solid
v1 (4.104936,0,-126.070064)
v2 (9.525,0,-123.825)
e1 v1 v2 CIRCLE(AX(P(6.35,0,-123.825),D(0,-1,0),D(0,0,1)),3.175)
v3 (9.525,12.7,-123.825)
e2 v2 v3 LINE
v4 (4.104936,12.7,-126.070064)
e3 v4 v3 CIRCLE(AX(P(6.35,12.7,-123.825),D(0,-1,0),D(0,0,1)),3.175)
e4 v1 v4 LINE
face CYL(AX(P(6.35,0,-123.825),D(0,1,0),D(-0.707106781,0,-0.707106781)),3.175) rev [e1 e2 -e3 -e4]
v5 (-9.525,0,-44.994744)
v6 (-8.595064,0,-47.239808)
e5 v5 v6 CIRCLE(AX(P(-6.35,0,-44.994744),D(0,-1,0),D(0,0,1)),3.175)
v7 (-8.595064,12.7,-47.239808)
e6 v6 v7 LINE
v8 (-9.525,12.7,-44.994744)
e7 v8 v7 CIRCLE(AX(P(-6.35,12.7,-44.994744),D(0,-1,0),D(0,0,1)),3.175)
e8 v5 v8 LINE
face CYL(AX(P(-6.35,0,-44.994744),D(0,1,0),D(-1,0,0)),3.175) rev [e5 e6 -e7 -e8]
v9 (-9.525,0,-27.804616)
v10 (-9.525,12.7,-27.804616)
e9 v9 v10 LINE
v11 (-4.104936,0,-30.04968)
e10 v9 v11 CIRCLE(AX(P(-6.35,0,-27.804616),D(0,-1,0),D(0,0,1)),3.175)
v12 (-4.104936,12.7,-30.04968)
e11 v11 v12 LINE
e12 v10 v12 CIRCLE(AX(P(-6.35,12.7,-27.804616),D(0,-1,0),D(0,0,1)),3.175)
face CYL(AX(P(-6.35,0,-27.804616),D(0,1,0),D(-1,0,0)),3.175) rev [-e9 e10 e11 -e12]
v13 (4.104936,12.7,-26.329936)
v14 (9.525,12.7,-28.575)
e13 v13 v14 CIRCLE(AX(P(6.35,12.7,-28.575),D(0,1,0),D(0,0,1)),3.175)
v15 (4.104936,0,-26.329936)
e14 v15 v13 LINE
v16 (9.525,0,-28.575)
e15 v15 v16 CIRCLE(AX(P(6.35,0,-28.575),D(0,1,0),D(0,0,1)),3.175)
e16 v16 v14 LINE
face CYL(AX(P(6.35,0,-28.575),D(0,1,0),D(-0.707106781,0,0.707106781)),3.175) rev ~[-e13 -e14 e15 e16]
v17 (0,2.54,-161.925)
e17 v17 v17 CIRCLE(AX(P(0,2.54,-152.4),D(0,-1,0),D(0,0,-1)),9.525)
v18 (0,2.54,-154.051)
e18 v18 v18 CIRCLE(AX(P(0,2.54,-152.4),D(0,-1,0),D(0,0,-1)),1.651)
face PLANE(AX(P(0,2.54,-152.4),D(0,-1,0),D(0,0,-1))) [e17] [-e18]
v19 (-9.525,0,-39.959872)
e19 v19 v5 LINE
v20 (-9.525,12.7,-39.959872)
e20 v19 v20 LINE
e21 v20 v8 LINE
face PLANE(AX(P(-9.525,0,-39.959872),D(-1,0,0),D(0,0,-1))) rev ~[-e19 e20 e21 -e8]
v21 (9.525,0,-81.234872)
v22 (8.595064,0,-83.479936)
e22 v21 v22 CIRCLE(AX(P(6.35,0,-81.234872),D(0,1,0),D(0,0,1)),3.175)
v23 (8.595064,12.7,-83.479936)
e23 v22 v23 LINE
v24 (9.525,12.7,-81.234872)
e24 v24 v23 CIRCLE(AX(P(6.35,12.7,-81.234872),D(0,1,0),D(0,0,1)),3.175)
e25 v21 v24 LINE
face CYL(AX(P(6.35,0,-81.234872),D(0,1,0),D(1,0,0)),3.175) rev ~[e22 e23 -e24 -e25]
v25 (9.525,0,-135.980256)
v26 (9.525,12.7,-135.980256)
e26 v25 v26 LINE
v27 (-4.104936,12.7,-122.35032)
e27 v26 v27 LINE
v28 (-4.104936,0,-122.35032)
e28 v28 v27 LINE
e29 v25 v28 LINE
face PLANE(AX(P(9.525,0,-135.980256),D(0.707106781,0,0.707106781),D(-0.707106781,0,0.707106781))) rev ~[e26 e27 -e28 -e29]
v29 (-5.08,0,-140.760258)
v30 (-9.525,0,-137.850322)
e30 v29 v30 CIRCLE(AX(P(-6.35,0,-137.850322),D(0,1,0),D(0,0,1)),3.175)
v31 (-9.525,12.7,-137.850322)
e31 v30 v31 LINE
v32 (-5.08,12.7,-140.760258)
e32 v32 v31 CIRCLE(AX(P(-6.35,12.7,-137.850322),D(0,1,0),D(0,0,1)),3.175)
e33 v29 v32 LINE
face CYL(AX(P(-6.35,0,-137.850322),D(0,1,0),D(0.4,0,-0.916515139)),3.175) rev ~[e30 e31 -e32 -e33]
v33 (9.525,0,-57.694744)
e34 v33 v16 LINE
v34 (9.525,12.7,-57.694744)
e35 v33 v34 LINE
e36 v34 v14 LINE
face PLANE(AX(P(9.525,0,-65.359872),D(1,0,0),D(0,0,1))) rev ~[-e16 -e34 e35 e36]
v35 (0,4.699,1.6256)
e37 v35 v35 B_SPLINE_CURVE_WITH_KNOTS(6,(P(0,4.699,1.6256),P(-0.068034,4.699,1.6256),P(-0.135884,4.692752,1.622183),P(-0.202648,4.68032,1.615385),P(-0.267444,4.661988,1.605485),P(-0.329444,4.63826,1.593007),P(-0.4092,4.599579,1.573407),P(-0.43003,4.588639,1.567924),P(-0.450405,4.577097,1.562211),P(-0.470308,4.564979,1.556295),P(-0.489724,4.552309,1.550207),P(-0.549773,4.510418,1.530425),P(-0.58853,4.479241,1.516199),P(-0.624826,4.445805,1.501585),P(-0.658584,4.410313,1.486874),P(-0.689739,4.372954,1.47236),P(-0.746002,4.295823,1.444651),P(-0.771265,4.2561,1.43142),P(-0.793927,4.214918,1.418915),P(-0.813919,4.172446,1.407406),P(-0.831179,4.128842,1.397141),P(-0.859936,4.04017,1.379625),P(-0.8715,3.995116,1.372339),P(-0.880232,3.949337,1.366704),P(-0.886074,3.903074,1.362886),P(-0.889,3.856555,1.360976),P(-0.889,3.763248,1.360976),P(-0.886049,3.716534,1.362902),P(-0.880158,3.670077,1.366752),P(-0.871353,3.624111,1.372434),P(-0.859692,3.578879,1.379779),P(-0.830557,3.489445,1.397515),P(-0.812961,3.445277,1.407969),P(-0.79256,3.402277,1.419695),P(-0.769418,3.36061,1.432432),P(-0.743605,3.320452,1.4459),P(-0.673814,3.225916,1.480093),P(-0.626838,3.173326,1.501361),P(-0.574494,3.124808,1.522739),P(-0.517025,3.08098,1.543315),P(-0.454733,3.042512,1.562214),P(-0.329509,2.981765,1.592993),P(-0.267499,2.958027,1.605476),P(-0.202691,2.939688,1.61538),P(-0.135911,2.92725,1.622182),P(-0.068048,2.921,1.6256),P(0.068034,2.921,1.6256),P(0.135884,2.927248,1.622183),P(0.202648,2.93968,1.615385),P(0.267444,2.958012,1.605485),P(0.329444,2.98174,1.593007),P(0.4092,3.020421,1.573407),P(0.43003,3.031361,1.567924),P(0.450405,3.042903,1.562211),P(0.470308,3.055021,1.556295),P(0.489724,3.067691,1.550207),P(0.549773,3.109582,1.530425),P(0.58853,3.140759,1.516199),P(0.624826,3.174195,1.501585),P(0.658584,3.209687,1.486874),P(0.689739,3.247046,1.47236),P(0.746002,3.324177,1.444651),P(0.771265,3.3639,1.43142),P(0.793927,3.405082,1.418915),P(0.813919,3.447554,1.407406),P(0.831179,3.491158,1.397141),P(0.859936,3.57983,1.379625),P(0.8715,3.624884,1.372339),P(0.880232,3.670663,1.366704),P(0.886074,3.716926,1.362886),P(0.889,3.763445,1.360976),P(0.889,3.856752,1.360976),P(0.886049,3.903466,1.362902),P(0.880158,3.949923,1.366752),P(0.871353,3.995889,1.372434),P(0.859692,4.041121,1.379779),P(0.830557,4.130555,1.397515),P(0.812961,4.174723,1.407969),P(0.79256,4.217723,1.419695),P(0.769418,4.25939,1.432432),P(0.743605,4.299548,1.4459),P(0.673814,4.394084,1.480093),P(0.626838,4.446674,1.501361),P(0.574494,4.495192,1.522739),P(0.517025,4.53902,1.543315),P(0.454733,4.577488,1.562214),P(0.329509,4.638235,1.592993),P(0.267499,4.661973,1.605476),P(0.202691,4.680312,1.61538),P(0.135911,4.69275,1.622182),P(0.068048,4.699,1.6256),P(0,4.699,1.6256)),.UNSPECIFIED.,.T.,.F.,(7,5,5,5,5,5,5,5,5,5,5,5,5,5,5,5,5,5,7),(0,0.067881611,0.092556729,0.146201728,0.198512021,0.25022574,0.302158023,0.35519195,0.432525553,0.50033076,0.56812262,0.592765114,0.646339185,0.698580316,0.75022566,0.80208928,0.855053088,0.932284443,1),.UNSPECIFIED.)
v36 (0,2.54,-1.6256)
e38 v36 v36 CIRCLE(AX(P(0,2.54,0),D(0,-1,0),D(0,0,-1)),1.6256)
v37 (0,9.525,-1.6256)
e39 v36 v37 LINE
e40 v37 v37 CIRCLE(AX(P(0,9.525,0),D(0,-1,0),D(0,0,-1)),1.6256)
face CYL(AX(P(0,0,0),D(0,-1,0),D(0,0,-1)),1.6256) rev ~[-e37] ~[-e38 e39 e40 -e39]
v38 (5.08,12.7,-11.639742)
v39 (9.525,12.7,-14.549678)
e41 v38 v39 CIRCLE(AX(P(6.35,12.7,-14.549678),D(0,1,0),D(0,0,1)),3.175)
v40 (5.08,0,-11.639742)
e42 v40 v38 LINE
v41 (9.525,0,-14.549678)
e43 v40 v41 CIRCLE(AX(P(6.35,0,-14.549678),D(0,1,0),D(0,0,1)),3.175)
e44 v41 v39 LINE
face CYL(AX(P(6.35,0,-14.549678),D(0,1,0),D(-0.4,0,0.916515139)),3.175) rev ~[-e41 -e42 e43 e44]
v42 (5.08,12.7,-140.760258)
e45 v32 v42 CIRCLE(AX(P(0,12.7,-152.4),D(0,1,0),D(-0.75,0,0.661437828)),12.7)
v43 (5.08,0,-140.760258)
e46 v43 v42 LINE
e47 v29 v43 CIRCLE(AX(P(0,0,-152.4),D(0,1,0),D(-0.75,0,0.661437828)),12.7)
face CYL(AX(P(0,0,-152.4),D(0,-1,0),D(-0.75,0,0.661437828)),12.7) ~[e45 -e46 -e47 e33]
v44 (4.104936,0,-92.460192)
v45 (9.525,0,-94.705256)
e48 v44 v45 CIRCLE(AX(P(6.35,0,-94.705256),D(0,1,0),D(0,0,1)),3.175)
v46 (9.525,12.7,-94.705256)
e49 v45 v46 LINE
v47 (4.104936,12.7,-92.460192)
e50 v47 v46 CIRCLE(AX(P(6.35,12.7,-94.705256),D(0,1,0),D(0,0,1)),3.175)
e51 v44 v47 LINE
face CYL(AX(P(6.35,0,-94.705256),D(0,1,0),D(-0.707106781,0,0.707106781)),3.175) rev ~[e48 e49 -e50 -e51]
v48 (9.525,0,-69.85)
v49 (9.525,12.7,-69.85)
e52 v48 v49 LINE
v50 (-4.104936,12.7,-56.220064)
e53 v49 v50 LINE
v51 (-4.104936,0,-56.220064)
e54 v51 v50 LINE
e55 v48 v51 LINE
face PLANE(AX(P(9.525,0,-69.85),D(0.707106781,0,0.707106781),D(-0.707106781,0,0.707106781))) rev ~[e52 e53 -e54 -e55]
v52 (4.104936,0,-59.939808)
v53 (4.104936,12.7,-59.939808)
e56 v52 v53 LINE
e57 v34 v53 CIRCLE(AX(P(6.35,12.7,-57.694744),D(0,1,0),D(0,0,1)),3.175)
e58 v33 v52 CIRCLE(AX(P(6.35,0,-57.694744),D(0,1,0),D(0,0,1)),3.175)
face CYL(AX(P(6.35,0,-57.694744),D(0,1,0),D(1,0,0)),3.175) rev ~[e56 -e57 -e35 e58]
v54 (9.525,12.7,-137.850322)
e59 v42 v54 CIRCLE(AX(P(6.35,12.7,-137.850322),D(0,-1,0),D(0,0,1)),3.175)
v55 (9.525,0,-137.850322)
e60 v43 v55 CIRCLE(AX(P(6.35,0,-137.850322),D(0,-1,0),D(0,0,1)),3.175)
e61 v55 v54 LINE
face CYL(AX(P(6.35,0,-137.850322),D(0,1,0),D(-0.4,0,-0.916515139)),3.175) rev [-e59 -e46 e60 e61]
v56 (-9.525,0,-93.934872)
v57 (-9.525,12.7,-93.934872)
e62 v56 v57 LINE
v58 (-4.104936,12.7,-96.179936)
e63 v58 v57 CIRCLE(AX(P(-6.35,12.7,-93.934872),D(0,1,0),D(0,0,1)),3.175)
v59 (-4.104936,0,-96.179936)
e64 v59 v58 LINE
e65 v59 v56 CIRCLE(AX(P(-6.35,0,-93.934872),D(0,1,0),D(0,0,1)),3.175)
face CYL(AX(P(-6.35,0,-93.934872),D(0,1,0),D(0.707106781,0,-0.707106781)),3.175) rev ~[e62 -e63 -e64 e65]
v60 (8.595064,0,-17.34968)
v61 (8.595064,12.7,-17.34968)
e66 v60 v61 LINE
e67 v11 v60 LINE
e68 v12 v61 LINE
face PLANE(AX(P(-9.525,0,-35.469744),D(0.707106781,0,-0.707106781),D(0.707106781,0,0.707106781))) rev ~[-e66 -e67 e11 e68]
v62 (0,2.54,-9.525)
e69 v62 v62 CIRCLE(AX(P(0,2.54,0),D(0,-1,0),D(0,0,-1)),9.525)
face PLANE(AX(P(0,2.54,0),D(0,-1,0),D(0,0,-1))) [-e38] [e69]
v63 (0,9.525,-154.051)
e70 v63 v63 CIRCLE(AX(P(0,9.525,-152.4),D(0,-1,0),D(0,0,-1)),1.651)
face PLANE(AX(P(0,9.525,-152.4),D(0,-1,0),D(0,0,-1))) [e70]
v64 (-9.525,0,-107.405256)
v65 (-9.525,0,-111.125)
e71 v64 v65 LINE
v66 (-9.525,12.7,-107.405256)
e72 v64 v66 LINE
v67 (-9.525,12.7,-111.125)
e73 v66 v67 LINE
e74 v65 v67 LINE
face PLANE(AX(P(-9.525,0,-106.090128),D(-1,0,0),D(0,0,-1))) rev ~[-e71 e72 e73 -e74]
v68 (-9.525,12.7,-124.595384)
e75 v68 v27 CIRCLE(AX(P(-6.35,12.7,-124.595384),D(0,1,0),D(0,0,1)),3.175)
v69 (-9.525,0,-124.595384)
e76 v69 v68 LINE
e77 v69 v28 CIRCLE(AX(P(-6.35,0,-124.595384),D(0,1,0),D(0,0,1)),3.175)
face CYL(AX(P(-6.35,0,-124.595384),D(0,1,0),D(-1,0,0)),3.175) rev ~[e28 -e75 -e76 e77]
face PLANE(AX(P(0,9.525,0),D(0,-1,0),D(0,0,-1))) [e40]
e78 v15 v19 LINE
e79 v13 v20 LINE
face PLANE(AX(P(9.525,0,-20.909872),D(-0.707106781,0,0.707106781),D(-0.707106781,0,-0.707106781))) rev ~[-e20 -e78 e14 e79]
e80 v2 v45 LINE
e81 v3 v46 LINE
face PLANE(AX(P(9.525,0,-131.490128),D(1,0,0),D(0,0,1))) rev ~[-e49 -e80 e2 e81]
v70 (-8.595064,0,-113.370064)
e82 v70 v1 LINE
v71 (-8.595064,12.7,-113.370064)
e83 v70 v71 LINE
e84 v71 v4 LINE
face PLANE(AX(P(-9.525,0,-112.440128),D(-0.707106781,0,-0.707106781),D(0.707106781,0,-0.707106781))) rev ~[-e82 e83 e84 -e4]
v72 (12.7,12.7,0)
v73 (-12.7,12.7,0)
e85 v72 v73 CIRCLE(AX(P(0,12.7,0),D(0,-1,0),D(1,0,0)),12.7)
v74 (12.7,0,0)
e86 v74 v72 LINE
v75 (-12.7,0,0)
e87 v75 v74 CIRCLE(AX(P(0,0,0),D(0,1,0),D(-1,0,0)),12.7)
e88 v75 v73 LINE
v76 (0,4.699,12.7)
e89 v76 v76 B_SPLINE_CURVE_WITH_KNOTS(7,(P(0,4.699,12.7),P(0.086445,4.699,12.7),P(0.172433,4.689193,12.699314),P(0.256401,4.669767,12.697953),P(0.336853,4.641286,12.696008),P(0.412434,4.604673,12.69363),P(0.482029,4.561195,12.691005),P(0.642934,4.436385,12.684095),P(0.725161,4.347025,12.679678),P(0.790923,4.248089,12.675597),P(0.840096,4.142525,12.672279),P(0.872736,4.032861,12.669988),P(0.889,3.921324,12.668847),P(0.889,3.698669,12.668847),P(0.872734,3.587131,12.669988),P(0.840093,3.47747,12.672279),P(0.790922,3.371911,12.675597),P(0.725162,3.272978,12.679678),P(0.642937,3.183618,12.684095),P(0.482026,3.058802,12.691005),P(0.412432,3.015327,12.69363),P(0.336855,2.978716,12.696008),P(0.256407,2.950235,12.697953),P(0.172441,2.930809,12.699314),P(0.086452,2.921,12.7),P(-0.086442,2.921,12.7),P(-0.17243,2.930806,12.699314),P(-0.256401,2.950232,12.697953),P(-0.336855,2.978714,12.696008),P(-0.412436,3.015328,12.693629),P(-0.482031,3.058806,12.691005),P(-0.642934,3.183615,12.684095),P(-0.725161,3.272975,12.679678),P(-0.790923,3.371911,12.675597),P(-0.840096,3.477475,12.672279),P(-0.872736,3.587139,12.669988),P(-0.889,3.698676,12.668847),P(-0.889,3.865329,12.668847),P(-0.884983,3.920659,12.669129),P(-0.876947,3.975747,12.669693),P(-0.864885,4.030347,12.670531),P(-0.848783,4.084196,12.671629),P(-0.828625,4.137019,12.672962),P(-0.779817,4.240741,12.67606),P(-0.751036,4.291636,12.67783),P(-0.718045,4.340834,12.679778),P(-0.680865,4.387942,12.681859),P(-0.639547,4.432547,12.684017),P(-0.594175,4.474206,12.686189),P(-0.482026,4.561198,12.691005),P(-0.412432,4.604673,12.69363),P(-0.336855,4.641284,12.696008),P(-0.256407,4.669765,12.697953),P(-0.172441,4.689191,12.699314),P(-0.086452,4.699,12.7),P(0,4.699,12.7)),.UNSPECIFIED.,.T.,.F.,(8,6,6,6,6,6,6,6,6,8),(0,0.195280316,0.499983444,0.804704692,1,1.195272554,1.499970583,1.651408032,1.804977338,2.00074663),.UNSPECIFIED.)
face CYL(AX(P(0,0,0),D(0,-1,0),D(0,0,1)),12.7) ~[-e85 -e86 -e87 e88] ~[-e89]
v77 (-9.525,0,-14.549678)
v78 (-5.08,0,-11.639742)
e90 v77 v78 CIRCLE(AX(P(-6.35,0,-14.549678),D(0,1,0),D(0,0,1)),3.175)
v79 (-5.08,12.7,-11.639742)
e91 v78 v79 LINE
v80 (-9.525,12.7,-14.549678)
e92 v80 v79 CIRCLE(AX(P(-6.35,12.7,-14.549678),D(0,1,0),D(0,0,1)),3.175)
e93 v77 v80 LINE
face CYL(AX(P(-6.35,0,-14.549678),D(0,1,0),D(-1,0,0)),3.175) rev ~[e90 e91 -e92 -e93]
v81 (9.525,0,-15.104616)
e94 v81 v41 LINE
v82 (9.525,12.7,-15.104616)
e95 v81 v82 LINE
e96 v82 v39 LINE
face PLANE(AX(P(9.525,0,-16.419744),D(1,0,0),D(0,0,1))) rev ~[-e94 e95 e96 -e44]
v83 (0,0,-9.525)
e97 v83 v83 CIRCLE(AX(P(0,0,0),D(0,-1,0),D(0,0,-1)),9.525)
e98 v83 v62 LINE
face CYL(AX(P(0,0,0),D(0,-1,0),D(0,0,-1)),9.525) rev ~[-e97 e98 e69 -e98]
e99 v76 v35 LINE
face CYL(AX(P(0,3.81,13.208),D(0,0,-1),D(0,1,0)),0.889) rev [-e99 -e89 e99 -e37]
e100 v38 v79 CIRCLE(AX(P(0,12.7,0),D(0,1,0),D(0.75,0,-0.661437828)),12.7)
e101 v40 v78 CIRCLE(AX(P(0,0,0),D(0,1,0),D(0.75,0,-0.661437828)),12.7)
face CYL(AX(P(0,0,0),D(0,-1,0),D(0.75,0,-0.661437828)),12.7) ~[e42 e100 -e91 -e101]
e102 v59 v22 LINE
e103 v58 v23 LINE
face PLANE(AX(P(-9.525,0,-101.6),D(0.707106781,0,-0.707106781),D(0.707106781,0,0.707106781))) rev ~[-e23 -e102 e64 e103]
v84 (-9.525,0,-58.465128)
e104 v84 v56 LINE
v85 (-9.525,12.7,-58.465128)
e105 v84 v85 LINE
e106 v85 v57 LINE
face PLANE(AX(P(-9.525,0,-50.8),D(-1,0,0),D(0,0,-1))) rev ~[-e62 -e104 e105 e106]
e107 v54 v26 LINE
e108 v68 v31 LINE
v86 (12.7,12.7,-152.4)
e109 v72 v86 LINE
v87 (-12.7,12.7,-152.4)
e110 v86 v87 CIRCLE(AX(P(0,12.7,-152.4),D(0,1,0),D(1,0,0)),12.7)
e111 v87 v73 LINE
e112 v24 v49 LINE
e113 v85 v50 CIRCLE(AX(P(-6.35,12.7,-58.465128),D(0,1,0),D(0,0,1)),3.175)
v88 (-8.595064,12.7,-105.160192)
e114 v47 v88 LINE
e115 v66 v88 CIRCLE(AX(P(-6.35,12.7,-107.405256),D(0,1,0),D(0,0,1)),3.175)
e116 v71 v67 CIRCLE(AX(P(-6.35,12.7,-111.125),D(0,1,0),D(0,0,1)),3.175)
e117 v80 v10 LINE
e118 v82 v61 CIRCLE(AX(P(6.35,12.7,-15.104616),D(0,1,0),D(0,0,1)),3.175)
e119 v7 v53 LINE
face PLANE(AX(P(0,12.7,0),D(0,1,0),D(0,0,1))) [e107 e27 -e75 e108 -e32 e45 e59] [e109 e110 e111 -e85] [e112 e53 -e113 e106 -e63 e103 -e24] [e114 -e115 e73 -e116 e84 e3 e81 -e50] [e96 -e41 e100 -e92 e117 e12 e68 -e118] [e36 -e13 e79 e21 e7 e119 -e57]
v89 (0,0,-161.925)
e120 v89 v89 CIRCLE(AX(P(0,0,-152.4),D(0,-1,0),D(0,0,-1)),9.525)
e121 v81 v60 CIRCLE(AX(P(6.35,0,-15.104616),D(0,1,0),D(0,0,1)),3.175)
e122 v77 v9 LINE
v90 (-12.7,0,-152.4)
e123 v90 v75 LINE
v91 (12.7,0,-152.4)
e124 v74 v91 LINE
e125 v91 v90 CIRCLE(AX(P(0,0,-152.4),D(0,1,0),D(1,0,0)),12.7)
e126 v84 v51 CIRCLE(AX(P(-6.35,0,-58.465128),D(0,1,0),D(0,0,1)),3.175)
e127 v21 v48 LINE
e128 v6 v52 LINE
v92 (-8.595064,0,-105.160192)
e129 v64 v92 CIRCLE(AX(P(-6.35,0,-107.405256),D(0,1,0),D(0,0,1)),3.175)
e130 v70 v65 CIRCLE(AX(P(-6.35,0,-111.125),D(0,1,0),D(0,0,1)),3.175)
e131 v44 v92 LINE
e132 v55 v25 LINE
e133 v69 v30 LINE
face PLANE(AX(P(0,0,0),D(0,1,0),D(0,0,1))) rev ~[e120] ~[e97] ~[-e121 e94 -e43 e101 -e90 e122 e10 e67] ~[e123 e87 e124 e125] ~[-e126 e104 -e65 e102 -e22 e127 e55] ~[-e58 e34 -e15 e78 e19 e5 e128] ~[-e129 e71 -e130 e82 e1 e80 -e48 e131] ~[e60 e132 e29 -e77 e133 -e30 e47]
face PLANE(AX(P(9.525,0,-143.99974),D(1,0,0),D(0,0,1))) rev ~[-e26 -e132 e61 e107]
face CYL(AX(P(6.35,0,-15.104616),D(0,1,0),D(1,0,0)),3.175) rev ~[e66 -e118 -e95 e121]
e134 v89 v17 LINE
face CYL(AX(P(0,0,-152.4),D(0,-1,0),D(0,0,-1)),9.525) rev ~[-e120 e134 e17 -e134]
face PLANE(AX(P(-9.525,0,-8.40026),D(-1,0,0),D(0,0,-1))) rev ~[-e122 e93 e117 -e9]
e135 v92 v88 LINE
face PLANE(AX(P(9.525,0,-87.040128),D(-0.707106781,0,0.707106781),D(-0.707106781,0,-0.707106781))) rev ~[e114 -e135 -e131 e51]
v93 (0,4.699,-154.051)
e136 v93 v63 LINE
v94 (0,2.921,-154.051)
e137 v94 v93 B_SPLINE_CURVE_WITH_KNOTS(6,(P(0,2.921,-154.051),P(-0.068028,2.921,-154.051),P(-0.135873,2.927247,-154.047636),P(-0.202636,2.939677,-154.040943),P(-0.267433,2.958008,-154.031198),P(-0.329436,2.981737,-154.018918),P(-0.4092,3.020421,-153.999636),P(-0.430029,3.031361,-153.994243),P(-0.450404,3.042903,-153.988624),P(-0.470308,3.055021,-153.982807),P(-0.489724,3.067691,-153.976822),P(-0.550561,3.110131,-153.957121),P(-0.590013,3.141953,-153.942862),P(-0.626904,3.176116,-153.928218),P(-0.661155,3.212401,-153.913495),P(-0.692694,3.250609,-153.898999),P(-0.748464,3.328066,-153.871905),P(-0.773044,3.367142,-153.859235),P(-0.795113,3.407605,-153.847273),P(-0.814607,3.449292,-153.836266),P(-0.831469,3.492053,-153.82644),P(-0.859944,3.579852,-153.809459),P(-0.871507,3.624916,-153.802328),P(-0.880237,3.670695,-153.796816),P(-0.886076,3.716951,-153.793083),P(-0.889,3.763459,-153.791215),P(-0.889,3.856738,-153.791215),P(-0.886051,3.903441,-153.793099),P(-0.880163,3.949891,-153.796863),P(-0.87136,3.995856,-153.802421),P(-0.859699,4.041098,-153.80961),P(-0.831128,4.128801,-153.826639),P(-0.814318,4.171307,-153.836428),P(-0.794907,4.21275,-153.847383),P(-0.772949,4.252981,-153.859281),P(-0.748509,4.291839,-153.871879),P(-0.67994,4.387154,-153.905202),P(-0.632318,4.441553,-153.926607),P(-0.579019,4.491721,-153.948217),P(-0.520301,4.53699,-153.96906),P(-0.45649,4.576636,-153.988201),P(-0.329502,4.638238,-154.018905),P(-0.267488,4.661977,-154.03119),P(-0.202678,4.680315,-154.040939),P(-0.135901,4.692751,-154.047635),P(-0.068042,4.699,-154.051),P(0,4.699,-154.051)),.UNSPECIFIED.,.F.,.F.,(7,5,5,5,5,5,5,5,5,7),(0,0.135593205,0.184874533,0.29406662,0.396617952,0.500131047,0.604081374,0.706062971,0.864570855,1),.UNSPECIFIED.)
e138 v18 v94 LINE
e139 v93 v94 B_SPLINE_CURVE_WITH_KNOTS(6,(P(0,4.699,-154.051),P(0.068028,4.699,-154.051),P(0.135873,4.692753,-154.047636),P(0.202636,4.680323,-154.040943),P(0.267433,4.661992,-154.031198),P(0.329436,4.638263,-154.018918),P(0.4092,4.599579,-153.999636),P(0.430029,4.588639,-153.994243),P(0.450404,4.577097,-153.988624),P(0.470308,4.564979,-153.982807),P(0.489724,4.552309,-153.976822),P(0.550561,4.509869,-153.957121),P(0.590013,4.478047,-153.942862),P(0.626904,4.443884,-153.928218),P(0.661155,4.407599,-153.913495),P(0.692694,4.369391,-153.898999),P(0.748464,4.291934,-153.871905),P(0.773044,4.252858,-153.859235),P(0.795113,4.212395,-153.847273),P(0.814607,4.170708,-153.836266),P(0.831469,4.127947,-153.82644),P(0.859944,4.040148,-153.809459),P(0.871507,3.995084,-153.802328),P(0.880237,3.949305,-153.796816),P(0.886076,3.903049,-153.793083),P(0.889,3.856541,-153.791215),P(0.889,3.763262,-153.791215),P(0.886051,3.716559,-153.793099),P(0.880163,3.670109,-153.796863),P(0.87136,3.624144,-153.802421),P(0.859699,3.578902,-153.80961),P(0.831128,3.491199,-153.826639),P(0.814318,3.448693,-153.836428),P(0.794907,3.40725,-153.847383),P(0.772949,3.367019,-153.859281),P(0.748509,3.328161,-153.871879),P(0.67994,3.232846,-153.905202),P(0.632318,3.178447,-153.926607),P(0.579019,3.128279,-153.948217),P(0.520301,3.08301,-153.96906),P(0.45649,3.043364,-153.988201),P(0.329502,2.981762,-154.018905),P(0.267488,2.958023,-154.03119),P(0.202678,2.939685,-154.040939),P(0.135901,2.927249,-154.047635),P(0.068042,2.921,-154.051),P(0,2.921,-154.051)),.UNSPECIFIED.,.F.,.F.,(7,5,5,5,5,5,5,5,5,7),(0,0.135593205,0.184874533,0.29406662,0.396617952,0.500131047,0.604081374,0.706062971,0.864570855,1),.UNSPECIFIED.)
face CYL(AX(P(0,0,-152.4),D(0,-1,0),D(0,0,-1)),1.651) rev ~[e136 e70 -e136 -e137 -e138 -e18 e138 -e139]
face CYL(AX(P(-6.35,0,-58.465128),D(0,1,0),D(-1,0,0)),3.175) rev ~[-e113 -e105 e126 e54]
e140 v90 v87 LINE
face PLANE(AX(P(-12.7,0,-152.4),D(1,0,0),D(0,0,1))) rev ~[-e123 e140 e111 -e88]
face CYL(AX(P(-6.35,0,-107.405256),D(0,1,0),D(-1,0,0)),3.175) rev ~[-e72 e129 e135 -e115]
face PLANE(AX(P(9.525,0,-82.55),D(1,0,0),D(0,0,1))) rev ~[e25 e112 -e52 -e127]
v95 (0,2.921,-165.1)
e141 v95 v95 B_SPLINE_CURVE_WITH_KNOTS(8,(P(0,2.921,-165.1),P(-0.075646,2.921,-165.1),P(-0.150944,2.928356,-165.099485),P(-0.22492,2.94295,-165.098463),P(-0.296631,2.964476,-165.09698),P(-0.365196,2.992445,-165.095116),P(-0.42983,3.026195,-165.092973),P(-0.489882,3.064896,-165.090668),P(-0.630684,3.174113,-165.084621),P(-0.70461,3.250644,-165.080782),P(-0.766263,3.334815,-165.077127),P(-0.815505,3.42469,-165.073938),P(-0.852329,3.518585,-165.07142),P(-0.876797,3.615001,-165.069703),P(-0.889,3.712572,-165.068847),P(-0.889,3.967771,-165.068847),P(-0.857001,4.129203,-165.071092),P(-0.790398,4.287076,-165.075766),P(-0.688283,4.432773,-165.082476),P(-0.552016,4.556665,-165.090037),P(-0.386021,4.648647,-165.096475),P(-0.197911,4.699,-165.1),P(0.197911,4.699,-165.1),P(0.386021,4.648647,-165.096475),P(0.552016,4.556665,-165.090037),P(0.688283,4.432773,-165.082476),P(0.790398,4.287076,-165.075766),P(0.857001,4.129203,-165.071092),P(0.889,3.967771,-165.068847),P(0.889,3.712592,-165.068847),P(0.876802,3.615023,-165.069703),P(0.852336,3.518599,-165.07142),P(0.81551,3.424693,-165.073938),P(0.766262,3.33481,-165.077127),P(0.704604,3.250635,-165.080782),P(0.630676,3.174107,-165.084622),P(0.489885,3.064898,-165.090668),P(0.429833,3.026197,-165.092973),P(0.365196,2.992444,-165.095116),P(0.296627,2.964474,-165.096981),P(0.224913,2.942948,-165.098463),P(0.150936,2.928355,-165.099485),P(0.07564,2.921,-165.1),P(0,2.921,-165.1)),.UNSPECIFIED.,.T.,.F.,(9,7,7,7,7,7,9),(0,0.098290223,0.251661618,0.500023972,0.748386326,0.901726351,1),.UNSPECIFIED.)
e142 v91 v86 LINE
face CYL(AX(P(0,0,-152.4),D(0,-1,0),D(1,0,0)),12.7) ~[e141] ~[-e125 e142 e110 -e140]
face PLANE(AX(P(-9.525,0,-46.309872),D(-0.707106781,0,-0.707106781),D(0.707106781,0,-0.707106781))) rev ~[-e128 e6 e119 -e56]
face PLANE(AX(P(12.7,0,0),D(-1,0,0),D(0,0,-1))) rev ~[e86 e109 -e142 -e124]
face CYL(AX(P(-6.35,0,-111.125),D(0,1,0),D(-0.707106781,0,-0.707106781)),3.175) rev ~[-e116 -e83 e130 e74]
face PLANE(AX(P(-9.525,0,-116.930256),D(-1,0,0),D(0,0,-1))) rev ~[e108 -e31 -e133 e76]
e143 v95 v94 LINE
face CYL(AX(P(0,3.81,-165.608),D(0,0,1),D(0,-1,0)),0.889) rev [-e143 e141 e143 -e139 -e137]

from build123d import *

# Parameters (mm, degrees)
SKETCH1_R           = 12.7
BOSS_EXTRUDE1_DEPTH = 12.7
SKETCH2_R           = 1.6256
CUT_EXTRUDE1_DEPTH  = 9.525
SKETCH3_R           = 9.525
CUT_EXTRUDE2_DEPTH  = 2.54
BOSS_EXTRUDE2_START = -12.7
BOSS_EXTRUDE2_DEPTH = 12.7
SKETCH10_R          = 1.651
CUT_EXTRUDE4_DEPTH  = 9.525
SKETCH11_R          = 9.525
CUT_EXTRUDE5_DEPTH  = 2.54
CUT_EXTRUDE6_DEPTH  = 12.7
FILLET1_R           = 3.175


with BuildPart() as part:
    # Sketch1 → Boss-Extrude1 (new body)
    with BuildSketch(Plane(origin=(0, 0, 0), x_dir=(1, 0, 0), z_dir=(0, 1, 0))):
        with Locations(Location((0, 0, 0), (0, 0, 270))):
            Circle(SKETCH1_R)
    extrude(amount=BOSS_EXTRUDE1_DEPTH)

    # Sketch2 → Cut-Extrude1 (cut)
    with BuildSketch(Plane.XZ):
        with Locations(Location((0, 0, 0), (0, 0, 270))):
            Circle(SKETCH2_R)
    extrude(amount=-CUT_EXTRUDE1_DEPTH, mode=Mode.SUBTRACT)

    # Sketch3 → Cut-Extrude2 (cut)
    with BuildSketch(Plane.XZ):
        with Locations(Location((0, 0, 0), (0, 0, 270))):
            Circle(SKETCH3_R)
    extrude(amount=-CUT_EXTRUDE2_DEPTH, mode=Mode.SUBTRACT)

    # Sketch5 → #2-56 Tapped Hole1 (revolve, cut)
    with BuildSketch(Plane(origin=(0, 3.81, 0), x_dir=(0, 1, 0), z_dir=(1, 0, 0))):
        Polygon((0, 0), (0, 13.74216509), (0.889, 13.208), (0.889, 0), align=None)
    revolve(axis=Axis((0, 3.81, -6.35), (0, 0, 1)), mode=Mode.SUBTRACT)

    # Sketch7 → Boss-Extrude2 (add)
    with BuildSketch(Plane(origin=(0, 12.7, 0), x_dir=(1, 0, 0), z_dir=(0, 1, 0)).offset(BOSS_EXTRUDE2_START)):
        with BuildLine():
            Line((-12.7, 152.4), (-12.7, 0))
            ThreePointArc((-12.7, 0), (0, 12.7), (12.7, 0))
            Line((12.7, 0), (12.7, 152.4))
            ThreePointArc((12.7, 152.4), (0, 165.1), (-12.7, 152.4))
        make_face()
    extrude(amount=BOSS_EXTRUDE2_DEPTH)

    # Sketch10 → Cut-Extrude4 (cut)
    with BuildSketch(Plane.XZ):
        with Locations(Location((0, -152.4, 0), (0, 0, 270))):
            Circle(SKETCH10_R)
    extrude(amount=-CUT_EXTRUDE4_DEPTH, mode=Mode.SUBTRACT)

    # Sketch11 → Cut-Extrude5 (cut)
    with BuildSketch(Plane.XZ):
        with Locations(Location((0, -152.4, 0), (0, 0, 270))):
            Circle(SKETCH11_R)
    extrude(amount=-CUT_EXTRUDE5_DEPTH, mode=Mode.SUBTRACT)

    # Sketch14 → #2-56 Tapped Hole2 (revolve, cut)
    with BuildSketch(Plane(origin=(0, 3.81, -152.4), x_dir=(0, -1, 0), z_dir=(1, 0, 0))):
        Polygon((0, 0), (0, 13.74216509), (0.889, 13.208), (0.889, 0), align=None)
    revolve(axis=Axis((0, 3.81, -146.05), (0, 0, -1)), mode=Mode.SUBTRACT)

    # Sketch15 → Cut-Extrude6 (cut)
    with BuildSketch(Plane.XZ):
        with BuildLine():
            Line((-9.525, -35.469743879), (9.525, -16.419743879))
            Line((9.525, -16.419743879), (9.525, -8.400260413))
            ThreePointArc((9.525, -8.400260413), (0, -12.7), (-9.525, -8.400260413))
            Line((-9.525, -8.400260413), (-9.525, -35.469743879))
        make_face()
        Polygon((-9.525, -46.309871939), (9.525, -65.359871939), (9.525, -20.909871939), (-9.525, -39.959871939), align=None)
        Polygon((-9.525, -76.2), (9.525, -76.2), (9.525, -69.85), (-9.525, -50.8), align=None)
        Polygon((9.525, -82.55), (9.525, -76.2), (-9.525, -76.2), (-9.525, -101.6), align=None)
        Polygon((9.525, -131.490128061), (9.525, -87.040128061), (-9.525, -106.090128061), (-9.525, -112.440128061), align=None)
        with BuildLine():
            Line((9.525, -143.999739587), (9.525, -135.980256121))
            Line((9.525, -135.980256121), (-9.525, -116.930256121))
            Line((-9.525, -116.930256121), (-9.525, -143.999739587))
            ThreePointArc((-9.525, -143.999739587), (0, -139.7), (9.525, -143.999739587))
        make_face()
    extrude(amount=-CUT_EXTRUDE6_DEPTH, mode=Mode.SUBTRACT)

    # Fillet1
    fillet1_edges = [part.edges().sort_by_distance(p)[0] for p in [
        (9.525, 6.35, -143.999739587),
        (-9.525, 6.35, -143.999739587),
        (-9.525, 6.35, -116.930256121),
        (-9.525, 6.35, -35.469743879),
        (9.525, 6.35, -16.419743879),
        (9.525, 6.35, -8.400260413),
        (-9.525, 6.35, -8.400260413),
        (-9.525, 6.35, -46.309871939),
        (9.525, 6.35, -65.359871939),
        (9.525, 6.35, -20.909871939),
        (-9.525, 6.35, -101.6),
        (-9.525, 6.35, -50.8),
        (9.525, 6.35, -82.55),
        (9.525, 6.35, -131.490128061),
        (9.525, 6.35, -87.040128061),
        (-9.525, 6.35, -106.090128061),
        (-9.525, 6.35, -112.440128061),
    ]]
    fillet(fillet1_edges, radius=FILLET1_R)


solid = part.part
